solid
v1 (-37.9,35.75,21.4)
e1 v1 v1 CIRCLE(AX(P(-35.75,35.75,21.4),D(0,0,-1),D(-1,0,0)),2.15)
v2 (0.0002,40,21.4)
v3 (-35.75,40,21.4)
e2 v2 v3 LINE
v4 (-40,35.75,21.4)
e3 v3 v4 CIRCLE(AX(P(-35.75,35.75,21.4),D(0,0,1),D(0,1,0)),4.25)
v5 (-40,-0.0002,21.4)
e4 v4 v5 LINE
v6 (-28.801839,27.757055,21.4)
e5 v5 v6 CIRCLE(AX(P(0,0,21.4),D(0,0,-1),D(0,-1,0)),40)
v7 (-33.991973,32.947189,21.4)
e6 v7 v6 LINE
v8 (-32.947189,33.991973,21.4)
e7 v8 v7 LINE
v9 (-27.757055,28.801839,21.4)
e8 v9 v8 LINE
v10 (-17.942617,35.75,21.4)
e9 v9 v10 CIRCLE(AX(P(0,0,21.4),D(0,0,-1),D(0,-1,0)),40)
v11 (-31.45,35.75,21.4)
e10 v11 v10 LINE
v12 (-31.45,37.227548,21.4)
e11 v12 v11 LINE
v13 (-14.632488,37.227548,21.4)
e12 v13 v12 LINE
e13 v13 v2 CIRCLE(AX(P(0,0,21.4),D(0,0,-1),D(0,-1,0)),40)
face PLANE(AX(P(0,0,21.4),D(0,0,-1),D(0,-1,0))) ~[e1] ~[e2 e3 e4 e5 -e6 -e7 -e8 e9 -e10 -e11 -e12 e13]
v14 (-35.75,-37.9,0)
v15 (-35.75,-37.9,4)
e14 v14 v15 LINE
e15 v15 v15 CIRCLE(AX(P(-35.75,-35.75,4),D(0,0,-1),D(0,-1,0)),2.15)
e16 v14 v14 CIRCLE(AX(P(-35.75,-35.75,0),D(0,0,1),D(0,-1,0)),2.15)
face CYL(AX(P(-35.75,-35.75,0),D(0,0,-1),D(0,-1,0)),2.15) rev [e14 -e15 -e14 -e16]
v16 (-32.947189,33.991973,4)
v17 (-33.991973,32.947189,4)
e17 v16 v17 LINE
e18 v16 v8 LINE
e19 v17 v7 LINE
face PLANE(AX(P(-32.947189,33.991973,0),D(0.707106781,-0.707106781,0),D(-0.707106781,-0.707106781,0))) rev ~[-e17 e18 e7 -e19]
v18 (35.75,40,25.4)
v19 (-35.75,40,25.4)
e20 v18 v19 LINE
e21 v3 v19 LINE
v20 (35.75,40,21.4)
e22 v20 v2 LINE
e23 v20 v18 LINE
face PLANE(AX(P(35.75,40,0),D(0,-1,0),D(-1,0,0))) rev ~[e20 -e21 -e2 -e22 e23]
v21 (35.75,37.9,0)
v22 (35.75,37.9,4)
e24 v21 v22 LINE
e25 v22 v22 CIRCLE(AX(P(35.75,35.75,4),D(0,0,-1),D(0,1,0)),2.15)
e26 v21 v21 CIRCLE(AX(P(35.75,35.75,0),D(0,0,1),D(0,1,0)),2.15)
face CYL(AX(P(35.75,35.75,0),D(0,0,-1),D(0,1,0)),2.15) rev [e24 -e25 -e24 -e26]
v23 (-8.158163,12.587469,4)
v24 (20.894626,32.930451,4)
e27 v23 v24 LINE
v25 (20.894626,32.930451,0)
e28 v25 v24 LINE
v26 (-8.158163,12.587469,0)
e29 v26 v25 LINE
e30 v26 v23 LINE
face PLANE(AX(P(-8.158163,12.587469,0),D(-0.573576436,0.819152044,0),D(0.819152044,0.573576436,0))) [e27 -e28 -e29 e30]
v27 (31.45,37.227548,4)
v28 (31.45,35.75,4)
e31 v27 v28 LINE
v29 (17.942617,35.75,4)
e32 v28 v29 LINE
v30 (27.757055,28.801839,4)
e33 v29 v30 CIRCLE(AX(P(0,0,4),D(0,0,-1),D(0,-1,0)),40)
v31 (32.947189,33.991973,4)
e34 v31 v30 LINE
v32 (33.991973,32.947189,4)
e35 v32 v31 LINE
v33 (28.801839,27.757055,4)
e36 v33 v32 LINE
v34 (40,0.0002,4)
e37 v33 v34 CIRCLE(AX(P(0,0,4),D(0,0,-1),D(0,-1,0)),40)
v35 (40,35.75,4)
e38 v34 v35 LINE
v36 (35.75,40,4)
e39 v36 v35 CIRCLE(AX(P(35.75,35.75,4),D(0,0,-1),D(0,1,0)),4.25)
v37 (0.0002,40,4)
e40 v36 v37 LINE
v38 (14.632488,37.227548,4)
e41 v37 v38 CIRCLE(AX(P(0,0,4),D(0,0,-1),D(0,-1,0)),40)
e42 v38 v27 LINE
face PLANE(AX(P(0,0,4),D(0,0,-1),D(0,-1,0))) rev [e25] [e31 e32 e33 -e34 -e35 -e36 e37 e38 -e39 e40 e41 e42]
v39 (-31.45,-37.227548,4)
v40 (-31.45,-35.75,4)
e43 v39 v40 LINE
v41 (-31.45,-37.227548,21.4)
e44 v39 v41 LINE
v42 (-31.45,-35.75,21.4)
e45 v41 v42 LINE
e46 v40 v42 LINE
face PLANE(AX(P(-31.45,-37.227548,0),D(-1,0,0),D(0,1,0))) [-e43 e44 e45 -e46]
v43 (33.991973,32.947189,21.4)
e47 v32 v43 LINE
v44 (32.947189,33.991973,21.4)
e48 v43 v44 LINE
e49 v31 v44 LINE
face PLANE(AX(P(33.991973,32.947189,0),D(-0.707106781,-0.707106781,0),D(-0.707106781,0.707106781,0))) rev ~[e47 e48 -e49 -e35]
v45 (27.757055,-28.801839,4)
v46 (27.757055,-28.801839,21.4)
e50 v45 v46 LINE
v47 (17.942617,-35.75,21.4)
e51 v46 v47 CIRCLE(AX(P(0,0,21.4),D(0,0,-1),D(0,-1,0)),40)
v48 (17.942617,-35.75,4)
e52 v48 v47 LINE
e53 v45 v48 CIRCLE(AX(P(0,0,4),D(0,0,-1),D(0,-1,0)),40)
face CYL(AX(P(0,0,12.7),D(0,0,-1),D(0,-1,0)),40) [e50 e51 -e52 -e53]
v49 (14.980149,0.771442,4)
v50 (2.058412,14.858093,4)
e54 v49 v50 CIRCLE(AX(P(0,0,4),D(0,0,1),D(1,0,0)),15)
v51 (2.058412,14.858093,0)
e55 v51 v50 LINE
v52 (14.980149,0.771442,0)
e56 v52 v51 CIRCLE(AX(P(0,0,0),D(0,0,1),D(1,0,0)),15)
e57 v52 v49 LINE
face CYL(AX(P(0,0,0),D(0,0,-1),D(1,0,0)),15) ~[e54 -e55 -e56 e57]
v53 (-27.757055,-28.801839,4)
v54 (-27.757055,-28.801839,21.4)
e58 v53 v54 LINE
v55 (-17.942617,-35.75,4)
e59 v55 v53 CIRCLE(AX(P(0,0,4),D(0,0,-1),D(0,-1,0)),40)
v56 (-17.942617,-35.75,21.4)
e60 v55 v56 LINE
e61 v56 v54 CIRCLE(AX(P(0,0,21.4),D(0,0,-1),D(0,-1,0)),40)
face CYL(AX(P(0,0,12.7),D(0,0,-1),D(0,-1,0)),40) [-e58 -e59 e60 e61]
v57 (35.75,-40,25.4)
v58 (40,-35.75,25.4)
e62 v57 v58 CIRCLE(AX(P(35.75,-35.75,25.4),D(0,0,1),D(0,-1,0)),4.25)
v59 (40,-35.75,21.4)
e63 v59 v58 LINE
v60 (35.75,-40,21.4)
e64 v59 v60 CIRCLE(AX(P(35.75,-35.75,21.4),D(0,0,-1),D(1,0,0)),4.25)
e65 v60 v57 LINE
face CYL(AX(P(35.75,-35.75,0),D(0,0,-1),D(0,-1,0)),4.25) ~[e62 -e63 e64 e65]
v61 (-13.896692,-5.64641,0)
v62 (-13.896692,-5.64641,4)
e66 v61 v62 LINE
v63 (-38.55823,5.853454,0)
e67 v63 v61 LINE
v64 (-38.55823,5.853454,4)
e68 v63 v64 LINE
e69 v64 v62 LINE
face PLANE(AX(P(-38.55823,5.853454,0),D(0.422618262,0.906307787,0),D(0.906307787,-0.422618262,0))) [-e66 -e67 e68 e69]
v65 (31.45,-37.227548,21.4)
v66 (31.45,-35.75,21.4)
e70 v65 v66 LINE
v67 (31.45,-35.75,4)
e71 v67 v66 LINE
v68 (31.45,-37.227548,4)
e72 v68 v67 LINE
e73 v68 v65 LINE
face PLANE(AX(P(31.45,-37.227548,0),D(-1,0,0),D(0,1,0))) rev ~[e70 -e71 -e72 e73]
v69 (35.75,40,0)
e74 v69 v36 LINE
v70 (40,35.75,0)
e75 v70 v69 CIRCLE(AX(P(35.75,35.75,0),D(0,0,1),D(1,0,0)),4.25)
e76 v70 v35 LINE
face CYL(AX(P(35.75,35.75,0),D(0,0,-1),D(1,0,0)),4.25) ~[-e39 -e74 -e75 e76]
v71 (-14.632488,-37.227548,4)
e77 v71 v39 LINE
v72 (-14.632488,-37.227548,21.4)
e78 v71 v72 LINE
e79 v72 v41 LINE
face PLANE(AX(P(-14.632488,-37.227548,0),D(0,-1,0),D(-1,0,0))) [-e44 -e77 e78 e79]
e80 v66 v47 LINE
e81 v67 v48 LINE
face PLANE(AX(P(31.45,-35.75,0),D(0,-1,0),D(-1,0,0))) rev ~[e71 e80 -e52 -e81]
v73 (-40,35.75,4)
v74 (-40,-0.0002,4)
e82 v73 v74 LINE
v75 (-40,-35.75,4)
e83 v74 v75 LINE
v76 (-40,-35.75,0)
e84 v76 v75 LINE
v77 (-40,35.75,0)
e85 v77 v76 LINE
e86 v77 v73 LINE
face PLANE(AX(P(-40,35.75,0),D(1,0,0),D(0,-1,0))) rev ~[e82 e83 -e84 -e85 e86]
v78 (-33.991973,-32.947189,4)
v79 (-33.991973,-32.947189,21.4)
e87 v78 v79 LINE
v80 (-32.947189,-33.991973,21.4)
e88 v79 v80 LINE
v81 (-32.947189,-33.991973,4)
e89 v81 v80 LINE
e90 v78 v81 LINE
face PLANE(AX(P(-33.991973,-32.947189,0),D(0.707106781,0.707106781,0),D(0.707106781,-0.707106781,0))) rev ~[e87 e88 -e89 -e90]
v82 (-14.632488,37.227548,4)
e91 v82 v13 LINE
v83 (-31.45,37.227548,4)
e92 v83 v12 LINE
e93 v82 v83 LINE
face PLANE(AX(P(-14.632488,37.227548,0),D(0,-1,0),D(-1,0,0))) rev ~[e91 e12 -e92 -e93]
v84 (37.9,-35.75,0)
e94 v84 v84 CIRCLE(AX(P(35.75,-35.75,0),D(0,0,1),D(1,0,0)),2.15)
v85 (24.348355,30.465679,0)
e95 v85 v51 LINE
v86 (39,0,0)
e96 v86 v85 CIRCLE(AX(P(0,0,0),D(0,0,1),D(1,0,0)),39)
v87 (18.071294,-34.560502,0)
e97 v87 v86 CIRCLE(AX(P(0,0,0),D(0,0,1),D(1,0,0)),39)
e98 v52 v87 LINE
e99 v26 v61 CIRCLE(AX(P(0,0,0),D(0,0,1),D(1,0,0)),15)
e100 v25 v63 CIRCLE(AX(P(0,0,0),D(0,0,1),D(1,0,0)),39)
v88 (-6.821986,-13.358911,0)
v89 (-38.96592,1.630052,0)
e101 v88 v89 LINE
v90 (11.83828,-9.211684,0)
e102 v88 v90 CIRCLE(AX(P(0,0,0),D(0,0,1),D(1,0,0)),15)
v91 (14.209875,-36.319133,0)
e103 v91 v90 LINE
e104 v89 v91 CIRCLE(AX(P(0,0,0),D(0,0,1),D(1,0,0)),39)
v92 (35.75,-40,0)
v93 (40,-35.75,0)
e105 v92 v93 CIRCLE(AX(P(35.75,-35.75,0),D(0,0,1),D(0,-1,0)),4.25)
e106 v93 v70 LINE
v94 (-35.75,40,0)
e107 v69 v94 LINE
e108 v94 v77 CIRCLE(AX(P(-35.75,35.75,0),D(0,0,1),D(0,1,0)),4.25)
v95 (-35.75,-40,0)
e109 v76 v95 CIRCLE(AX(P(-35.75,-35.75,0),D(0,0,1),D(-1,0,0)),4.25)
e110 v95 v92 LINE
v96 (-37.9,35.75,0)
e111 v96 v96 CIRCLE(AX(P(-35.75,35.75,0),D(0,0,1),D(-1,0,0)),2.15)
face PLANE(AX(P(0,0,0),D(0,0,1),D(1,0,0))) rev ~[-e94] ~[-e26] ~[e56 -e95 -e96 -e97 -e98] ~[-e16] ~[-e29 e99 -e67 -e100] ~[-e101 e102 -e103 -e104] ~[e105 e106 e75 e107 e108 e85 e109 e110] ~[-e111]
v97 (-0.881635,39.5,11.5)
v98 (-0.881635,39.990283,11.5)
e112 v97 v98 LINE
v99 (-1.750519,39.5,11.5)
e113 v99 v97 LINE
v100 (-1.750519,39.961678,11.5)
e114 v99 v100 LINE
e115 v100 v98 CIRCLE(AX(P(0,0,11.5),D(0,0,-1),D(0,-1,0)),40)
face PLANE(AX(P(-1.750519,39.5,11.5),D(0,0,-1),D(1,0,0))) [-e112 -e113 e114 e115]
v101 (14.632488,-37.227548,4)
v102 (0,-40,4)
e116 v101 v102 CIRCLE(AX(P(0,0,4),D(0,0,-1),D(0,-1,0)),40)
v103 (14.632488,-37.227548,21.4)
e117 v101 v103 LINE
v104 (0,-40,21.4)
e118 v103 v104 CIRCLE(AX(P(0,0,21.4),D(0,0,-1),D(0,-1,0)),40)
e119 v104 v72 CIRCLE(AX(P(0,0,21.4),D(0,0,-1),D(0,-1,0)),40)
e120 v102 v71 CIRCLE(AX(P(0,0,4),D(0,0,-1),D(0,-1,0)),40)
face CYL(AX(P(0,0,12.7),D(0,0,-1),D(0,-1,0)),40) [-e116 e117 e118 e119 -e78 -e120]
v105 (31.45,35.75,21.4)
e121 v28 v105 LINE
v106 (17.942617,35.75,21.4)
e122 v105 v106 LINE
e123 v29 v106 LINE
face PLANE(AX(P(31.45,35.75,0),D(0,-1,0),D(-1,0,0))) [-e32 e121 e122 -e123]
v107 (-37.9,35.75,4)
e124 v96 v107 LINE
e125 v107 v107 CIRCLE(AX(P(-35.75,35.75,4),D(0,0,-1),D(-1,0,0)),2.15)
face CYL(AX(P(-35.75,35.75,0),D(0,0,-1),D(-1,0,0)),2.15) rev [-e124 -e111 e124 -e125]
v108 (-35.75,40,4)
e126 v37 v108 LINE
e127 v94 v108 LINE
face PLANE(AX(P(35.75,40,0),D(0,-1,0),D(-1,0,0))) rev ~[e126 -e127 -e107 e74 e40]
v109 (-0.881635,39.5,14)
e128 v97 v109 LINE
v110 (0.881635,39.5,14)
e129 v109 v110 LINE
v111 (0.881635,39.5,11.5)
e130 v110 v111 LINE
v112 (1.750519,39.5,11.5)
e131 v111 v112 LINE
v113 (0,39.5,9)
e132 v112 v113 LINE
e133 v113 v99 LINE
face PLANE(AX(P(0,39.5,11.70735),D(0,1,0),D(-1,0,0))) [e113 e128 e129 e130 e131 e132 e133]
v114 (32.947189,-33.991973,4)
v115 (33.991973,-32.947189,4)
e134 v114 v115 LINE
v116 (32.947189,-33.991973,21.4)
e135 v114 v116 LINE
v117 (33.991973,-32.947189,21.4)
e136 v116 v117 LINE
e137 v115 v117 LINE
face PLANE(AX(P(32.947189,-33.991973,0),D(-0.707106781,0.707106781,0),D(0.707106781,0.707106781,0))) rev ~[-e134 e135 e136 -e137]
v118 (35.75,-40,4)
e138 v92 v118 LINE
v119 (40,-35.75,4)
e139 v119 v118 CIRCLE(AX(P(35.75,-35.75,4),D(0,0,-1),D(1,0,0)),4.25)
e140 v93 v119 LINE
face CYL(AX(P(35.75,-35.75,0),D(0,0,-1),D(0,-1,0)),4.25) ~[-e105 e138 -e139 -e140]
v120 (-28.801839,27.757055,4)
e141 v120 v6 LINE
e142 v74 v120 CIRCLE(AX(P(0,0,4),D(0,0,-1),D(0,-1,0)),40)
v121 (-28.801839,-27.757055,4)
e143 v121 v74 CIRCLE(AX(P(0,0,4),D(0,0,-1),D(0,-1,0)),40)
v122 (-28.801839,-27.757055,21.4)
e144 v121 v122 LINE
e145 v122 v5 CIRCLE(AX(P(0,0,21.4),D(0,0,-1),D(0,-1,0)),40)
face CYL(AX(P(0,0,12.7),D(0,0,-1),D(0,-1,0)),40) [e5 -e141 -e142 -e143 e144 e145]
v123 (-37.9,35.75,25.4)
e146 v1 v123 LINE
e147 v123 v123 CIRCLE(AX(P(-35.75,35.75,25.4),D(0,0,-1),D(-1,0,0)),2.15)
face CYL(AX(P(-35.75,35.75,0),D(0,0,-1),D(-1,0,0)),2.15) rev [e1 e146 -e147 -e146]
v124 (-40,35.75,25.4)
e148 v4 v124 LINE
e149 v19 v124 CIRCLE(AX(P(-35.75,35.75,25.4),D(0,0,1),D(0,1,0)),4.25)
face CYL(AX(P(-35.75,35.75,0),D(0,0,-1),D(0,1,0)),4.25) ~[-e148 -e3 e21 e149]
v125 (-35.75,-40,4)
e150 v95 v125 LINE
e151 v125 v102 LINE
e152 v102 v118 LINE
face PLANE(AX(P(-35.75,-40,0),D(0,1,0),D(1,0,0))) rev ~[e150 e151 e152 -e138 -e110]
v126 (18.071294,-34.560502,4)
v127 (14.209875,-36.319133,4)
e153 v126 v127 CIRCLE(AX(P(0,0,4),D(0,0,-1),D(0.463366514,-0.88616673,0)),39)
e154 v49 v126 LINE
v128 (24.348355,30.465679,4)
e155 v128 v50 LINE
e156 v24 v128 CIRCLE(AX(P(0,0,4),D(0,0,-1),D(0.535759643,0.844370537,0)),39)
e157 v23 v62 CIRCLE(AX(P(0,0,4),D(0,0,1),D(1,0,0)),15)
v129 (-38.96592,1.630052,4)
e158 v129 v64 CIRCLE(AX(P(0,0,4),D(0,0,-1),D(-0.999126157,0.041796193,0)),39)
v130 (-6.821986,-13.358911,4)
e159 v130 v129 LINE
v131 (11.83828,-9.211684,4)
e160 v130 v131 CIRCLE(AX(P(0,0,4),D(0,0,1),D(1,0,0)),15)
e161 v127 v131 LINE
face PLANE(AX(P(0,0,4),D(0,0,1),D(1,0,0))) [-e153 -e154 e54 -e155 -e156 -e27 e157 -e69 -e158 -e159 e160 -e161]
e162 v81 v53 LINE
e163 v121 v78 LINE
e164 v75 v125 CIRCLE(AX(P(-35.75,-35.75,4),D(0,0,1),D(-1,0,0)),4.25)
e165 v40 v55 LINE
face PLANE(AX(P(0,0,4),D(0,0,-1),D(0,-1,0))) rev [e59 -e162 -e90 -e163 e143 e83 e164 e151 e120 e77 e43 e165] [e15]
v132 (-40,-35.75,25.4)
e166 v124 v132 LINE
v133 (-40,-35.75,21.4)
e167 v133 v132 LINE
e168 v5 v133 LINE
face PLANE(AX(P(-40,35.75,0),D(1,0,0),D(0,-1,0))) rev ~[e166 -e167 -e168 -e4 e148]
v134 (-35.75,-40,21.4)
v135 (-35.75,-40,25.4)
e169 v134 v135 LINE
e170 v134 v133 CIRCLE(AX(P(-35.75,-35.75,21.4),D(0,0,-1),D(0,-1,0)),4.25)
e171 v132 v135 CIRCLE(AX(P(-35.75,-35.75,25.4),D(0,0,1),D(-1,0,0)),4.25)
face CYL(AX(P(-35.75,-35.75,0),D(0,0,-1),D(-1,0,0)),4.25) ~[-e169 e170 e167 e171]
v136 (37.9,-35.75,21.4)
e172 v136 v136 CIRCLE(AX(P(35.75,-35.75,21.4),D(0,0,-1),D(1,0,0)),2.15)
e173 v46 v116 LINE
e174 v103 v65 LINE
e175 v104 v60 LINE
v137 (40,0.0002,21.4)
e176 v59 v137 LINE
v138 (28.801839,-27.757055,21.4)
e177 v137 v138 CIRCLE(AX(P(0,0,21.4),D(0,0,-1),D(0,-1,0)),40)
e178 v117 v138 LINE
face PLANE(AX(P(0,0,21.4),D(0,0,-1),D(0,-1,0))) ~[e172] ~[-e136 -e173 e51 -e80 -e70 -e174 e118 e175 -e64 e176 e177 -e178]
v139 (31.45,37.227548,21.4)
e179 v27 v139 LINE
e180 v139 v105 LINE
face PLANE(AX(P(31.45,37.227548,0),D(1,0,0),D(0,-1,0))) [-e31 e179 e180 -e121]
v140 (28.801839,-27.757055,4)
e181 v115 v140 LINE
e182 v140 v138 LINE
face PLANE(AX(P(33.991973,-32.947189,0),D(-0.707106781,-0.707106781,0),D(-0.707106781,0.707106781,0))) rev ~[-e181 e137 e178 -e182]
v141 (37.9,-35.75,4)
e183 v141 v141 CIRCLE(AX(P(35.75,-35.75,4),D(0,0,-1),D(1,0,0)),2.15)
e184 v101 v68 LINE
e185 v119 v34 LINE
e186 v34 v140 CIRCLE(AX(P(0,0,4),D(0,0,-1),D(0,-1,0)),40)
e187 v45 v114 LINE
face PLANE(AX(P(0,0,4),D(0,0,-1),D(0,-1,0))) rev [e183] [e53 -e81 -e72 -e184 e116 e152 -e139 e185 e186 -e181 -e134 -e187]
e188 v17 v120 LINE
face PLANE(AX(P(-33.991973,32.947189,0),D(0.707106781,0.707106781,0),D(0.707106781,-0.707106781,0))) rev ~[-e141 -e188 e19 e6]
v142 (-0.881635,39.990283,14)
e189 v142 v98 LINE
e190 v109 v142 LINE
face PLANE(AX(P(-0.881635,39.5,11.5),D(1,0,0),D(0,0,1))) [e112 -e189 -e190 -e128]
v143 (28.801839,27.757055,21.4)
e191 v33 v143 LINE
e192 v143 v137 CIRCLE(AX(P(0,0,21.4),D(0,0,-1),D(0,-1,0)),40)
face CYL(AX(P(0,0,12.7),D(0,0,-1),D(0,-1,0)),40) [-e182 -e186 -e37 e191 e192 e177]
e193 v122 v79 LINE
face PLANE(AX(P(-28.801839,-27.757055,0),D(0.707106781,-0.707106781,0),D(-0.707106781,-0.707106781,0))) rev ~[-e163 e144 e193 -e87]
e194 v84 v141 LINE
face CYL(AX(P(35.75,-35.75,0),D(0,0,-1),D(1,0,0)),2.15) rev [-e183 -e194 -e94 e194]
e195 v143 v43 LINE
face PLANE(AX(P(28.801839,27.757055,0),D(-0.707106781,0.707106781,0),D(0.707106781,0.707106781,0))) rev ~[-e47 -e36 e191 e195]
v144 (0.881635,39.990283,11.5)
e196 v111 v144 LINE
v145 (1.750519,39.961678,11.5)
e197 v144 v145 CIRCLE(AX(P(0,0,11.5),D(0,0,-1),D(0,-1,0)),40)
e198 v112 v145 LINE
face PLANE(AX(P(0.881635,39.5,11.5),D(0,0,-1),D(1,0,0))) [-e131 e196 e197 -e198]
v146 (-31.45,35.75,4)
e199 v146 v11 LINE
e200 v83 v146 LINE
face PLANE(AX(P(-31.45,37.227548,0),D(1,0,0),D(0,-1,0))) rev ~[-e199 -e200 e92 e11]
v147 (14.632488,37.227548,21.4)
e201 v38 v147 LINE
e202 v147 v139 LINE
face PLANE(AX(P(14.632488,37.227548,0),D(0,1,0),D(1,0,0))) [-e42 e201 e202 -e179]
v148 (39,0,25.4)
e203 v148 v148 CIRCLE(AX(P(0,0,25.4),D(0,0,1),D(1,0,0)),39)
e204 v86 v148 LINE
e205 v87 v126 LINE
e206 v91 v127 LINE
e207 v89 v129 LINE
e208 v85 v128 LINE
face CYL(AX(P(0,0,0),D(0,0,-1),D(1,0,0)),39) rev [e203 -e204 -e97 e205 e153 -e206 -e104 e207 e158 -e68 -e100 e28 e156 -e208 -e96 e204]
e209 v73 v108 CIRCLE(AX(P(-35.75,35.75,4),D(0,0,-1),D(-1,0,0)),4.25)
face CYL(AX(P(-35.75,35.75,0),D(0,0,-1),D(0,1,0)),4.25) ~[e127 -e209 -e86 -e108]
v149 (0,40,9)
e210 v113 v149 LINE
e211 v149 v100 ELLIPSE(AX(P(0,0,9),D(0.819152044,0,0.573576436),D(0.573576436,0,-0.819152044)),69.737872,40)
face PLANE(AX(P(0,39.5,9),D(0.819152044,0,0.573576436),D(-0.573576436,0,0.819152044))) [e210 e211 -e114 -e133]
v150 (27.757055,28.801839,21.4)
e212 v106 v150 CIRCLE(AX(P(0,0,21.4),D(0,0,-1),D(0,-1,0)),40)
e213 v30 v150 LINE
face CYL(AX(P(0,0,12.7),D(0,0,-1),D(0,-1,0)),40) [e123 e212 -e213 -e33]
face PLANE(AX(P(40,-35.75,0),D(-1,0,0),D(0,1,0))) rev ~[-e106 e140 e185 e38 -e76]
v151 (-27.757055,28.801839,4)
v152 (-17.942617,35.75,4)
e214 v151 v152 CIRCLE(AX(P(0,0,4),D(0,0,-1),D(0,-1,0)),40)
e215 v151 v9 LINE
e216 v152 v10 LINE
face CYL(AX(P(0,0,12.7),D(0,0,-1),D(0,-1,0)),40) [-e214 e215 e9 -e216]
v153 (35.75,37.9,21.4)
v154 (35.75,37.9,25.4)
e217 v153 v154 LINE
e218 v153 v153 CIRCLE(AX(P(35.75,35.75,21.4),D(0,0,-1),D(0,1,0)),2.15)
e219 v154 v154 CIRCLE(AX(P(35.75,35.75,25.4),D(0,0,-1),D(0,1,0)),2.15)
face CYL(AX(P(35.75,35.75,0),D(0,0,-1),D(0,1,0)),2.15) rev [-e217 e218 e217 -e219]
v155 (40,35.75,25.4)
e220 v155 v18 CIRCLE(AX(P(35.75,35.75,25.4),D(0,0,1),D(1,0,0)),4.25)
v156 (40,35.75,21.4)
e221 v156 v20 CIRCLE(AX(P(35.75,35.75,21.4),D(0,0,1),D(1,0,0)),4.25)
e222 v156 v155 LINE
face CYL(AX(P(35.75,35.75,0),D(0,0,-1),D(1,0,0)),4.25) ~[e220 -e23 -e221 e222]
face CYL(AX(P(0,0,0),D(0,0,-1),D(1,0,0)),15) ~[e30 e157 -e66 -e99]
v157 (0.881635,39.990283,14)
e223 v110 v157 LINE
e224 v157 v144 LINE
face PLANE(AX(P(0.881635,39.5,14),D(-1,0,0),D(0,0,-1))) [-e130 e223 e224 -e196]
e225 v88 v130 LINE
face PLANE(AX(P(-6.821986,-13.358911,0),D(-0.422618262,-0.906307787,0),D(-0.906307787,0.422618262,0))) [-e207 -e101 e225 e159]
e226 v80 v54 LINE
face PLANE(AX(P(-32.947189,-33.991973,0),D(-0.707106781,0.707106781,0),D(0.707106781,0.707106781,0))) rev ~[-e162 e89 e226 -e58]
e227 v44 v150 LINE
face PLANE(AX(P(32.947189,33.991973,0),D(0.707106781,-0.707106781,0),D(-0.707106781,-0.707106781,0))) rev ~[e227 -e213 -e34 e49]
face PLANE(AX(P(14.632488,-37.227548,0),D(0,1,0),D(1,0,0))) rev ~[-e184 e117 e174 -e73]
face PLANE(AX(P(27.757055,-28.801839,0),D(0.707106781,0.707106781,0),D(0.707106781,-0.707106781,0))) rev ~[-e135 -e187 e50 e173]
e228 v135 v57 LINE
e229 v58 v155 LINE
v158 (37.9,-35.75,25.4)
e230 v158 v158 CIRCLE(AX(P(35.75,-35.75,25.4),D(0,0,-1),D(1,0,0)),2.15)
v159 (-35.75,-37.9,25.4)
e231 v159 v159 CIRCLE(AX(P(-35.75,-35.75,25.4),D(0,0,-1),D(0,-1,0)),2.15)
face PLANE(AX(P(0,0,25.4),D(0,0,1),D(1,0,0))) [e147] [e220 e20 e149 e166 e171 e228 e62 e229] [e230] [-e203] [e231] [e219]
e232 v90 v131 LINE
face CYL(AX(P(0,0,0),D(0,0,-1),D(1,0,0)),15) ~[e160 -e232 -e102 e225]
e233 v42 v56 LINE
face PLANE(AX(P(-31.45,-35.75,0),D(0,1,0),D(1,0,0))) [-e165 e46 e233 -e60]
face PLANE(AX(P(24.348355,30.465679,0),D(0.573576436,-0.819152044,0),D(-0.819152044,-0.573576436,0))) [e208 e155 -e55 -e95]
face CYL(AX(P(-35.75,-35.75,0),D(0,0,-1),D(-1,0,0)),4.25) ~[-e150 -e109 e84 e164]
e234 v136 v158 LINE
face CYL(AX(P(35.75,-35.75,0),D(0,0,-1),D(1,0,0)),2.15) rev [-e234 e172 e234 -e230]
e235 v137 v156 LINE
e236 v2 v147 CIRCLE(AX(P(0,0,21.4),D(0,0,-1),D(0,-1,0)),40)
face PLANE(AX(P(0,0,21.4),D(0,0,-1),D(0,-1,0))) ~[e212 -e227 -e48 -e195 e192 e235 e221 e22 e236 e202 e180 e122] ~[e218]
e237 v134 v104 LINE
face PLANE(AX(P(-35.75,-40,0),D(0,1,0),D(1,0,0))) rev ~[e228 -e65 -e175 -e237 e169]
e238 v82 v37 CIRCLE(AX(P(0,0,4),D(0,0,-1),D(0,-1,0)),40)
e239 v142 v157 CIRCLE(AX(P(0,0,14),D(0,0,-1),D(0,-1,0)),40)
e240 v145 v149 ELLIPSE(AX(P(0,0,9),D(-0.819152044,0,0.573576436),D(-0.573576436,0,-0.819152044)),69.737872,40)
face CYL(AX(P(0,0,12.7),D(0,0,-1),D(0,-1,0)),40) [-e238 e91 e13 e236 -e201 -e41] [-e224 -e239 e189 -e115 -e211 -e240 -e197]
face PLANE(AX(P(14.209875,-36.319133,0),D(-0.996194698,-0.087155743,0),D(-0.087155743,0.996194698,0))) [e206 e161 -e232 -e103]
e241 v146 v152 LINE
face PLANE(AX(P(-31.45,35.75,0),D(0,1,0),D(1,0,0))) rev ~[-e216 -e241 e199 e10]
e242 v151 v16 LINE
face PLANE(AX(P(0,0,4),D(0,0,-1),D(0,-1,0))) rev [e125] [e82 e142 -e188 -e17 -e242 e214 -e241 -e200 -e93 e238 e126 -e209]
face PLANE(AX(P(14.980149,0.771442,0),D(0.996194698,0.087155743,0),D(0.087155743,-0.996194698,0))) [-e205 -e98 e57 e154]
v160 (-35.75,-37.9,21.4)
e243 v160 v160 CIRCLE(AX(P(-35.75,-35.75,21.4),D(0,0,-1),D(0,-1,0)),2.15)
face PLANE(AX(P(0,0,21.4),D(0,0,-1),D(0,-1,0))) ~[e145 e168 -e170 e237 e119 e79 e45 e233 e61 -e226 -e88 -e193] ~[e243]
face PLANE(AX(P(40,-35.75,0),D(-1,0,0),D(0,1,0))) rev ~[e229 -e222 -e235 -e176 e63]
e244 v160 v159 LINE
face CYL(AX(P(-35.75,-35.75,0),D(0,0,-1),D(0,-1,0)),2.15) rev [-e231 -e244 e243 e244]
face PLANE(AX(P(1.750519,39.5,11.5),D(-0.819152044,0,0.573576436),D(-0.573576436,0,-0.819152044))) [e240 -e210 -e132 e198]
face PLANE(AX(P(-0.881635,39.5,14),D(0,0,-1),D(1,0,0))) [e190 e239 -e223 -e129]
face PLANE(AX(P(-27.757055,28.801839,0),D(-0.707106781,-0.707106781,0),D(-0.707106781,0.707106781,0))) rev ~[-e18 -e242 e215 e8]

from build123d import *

# Parameters (mm, degrees)
SKETCH_BODY_R                       = 39
BODY_DEPTH                          = 25.4
SKETCH_CUT_BODY_W                   = 17.4
SKETCH_CUT_BODY_H                   = 14.808134855
REINFORCMENT_STRIP_REACH            = 64.009
CIRPATTERN_REINFORCMENT_STRIP_COUNT = 4
SKETCH_FIXING_HOLE_R                = 2.15
FIXING_HOLE_DEPTH                   = 63.009354133
CIRPATTERN_FIXING_HOLE_COUNT        = 4
BONE_DEPTH                          = 4
CIRPATTERN_BONE_COUNT               = 3
REINFORCMENT_PLATES_REACH           = 64.009
SKETCH_FIXING_PLATE_FAN_R           = 15
FIXING_PLATE_FAN_DEPTH              = 4
AIR_EXHAUST_DEPTH                   = 93.549500269


with BuildPart() as part:
    # Sketch-Body → Body (new body)
    with BuildSketch(Plane.XY):
        with BuildLine():
            Line((-35.75, -40), (35.75, -40))
            ThreePointArc((35.75, -40), (38.75520382, -38.75520382), (40, -35.75))
            Line((40, -35.75), (40, 35.75))
            ThreePointArc((40, 35.75), (38.75520382, 38.75520382), (35.75, 40))
            Line((35.75, 40), (-35.75, 40))
            ThreePointArc((-35.75, 40), (-38.75520382, 38.75520382), (-40, 35.75))
            Line((-40, 35.75), (-40, -35.75))
            ThreePointArc((-40, -35.75), (-38.75520382, -38.75520382), (-35.75, -40))
        make_face()
        Circle(SKETCH_BODY_R, mode=Mode.SUBTRACT)
    extrude(amount=BODY_DEPTH)

    # Sketch-Cut-Body → Cut-Body (revolve, cut)
    with BuildSketch(Plane(origin=(0, 0, 0), x_dir=(0, 0, -1), z_dir=(1, 0, 0)), mode=Mode.PRIVATE) as cut_body_sk:
        with Locations((-12.7, 47.404067428)):
            Rectangle(SKETCH_CUT_BODY_W, SKETCH_CUT_BODY_H)
    revolve(cut_body_sk.sketch.rotate(Axis((0, 0, 25.4), (0, 0, -1)), 180), axis=Axis((0, 0, 25.4), (0, 0, -1)), mode=Mode.SUBTRACT)

    # Sketch-Reinforcment-Strip → Reinforcment-Strip (add, up to next)
    with BuildSketch(Plane.XY, mode=Mode.PRIVATE) as reinforcment_strip_sk1:
        with BuildLine():
            Line((28.801838692, 27.757054743), (33.991972605, 32.947188656))
            Line((33.991972605, 32.947188656), (32.947188656, 33.991972605))
            Line((32.947188656, 33.991972605), (27.757054743, 28.801838692))
            ThreePointArc((27.757054743, 28.801838692), (28.284271247, 28.284271247), (28.801838692, 27.757054743))
        make_face()
    reinforcment_strip_tool1 = extrude(reinforcment_strip_sk1.sketch, amount=REINFORCMENT_STRIP_REACH, mode=Mode.PRIVATE) - part.part
    reinforcment_strip = reinforcment_strip_tool1.solids().sort_by_distance((30.876122, 30.876122, 0))[0]
    add(reinforcment_strip)

    # CirPattern-Reinforcment-Strip: Reinforcment-Strip ×4 about axis
    cirpattern_reinforcment_strip_axis = Axis((0, 0, 0), (0, 0, 1))
    for i in range(1, CIRPATTERN_REINFORCMENT_STRIP_COUNT):
        add(reinforcment_strip.rotate(cirpattern_reinforcment_strip_axis, i * 360 / CIRPATTERN_REINFORCMENT_STRIP_COUNT))

    # Sketch-Fixing-Hole → Fixing-Hole (cut, through all)
    with BuildSketch(Plane.XY):
        with Locations(Location((35.75, 35.75, 0), (0, 0, 90))):
            Circle(SKETCH_FIXING_HOLE_R)
    fixing_hole = extrude(amount=FIXING_HOLE_DEPTH, mode=Mode.SUBTRACT)

    # CirPattern-Fixing-Hole: Fixing-Hole ×4 about axis
    cirpattern_fixing_hole_axis = Axis((0, 0, 0), (0, 0, 1))
    for i in range(1, CIRPATTERN_FIXING_HOLE_COUNT):
        add(fixing_hole.rotate(cirpattern_fixing_hole_axis, i * 360 / CIRPATTERN_FIXING_HOLE_COUNT), mode=Mode.SUBTRACT)

    # Sketch-Bone → Bone (add)
    with BuildSketch(Plane.XY):
        with BuildLine():
            Line((14.980149429, 0.771442214), (18.07129405, -34.560502476))
            ThreePointArc((18.07129405, -34.560502476), (16.164518677, -35.492370109), (14.209874971, -36.319133433))
            Line((14.209874971, -36.319133433), (11.838280423, -9.211683702))
            ThreePointArc((11.838280423, -9.211683702), (14.308135647, -4.503027238), (14.980149429, 0.771442214))
        make_face()
    bone = extrude(amount=BONE_DEPTH)

    # CirPattern-Bone: Bone ×3 about axis
    cirpattern_bone_axis = Axis((0, 0, 0), (0, 0, 1))
    for i in range(1, CIRPATTERN_BONE_COUNT):
        add(bone.rotate(cirpattern_bone_axis, i * 360 / CIRPATTERN_BONE_COUNT))

    # Sketch3 → Reinforcment-Plates (add, up to next)
    with BuildSketch(Plane.XY, mode=Mode.PRIVATE) as reinforcment_plates_sk1:
        with BuildLine():
            Line((14.632487739, 37.227547631), (31.45, 37.227547631))
            Line((31.45, 37.227547631), (31.45, 35.75))
            Line((31.45, 35.75), (17.942616866, 35.75))
            ThreePointArc((17.942616866, 35.75), (16.304298413, 36.526289892), (14.632487739, 37.227547631))
        make_face()
    reinforcment_plates_tool1 = extrude(reinforcment_plates_sk1.sketch, amount=REINFORCMENT_PLATES_REACH, mode=Mode.PRIVATE) - part.part
    # Sketch3 → Reinforcment-Plates (add, up to next)
    with BuildSketch(Plane.XY, mode=Mode.PRIVATE) as reinforcment_plates_sk2:
        with BuildLine():
            Line((-31.45, 35.75), (-17.942616866, 35.75))
            ThreePointArc((-17.942616866, 35.75), (-16.304298413, 36.526289892), (-14.632487739, 37.227547631))
            Line((-14.632487739, 37.227547631), (-31.45, 37.227547631))
            Line((-31.45, 37.227547631), (-31.45, 35.75))
        make_face()
    reinforcment_plates_tool2 = extrude(reinforcment_plates_sk2.sketch, amount=REINFORCMENT_PLATES_REACH, mode=Mode.PRIVATE) - part.part
    # Sketch3 → Reinforcment-Plates (add, up to next)
    with BuildSketch(Plane.XY, mode=Mode.PRIVATE) as reinforcment_plates_sk3:
        with BuildLine():
            Line((-31.45, -37.227547631), (-31.45, -35.75))
            Line((-31.45, -35.75), (-17.942616866, -35.75))
            ThreePointArc((-17.942616866, -35.75), (-16.304298413, -36.526289892), (-14.632487739, -37.227547631))
            Line((-14.632487739, -37.227547631), (-31.45, -37.227547631))
        make_face()
    reinforcment_plates_tool3 = extrude(reinforcment_plates_sk3.sketch, amount=REINFORCMENT_PLATES_REACH, mode=Mode.PRIVATE) - part.part
    # Sketch3 → Reinforcment-Plates (add, up to next)
    with BuildSketch(Plane.XY, mode=Mode.PRIVATE) as reinforcment_plates_sk4:
        with BuildLine():
            Line((14.632487739, -37.227547631), (31.45, -37.227547631))
            Line((31.45, -37.227547631), (31.45, -35.75))
            Line((31.45, -35.75), (17.942616866, -35.75))
            ThreePointArc((17.942616866, -35.75), (16.304298413, -36.526289892), (14.632487739, -37.227547631))
        make_face()
    reinforcment_plates_tool4 = extrude(reinforcment_plates_sk4.sketch, amount=REINFORCMENT_PLATES_REACH, mode=Mode.PRIVATE) - part.part
    add(reinforcment_plates_tool1.solids().sort_by_distance((23.872253, 36.515707, 0))[0])
    add(reinforcment_plates_tool2.solids().sort_by_distance((-23.872253, 36.515707, 0))[0])
    add(reinforcment_plates_tool3.solids().sort_by_distance((-23.872253, -36.515707, 0))[0])
    add(reinforcment_plates_tool4.solids().sort_by_distance((23.872253, -36.515707, 0))[0])

    # Sketch-Fixing-Plate-Fan → Fixing-Plate-Fan (add)
    with BuildSketch(Plane.XY):
        Circle(SKETCH_FIXING_PLATE_FAN_R)
    extrude(amount=FIXING_PLATE_FAN_DEPTH)

    # Sketch5 → Air-Exhaust (cut, through all)
    with BuildSketch(Plane(origin=(0, 39.5, 0), x_dir=(-1, 0, 0), z_dir=(0, 1, 0))):
        Polygon((0.881634904, 14), (-0.881634904, 14), (-0.881634904, 11.5), (-1.750518846, 11.5), (0, 9), (1.750518846, 11.5), (0.881634904, 11.5), align=None)
    extrude(amount=AIR_EXHAUST_DEPTH, mode=Mode.SUBTRACT)


solid = part.part
